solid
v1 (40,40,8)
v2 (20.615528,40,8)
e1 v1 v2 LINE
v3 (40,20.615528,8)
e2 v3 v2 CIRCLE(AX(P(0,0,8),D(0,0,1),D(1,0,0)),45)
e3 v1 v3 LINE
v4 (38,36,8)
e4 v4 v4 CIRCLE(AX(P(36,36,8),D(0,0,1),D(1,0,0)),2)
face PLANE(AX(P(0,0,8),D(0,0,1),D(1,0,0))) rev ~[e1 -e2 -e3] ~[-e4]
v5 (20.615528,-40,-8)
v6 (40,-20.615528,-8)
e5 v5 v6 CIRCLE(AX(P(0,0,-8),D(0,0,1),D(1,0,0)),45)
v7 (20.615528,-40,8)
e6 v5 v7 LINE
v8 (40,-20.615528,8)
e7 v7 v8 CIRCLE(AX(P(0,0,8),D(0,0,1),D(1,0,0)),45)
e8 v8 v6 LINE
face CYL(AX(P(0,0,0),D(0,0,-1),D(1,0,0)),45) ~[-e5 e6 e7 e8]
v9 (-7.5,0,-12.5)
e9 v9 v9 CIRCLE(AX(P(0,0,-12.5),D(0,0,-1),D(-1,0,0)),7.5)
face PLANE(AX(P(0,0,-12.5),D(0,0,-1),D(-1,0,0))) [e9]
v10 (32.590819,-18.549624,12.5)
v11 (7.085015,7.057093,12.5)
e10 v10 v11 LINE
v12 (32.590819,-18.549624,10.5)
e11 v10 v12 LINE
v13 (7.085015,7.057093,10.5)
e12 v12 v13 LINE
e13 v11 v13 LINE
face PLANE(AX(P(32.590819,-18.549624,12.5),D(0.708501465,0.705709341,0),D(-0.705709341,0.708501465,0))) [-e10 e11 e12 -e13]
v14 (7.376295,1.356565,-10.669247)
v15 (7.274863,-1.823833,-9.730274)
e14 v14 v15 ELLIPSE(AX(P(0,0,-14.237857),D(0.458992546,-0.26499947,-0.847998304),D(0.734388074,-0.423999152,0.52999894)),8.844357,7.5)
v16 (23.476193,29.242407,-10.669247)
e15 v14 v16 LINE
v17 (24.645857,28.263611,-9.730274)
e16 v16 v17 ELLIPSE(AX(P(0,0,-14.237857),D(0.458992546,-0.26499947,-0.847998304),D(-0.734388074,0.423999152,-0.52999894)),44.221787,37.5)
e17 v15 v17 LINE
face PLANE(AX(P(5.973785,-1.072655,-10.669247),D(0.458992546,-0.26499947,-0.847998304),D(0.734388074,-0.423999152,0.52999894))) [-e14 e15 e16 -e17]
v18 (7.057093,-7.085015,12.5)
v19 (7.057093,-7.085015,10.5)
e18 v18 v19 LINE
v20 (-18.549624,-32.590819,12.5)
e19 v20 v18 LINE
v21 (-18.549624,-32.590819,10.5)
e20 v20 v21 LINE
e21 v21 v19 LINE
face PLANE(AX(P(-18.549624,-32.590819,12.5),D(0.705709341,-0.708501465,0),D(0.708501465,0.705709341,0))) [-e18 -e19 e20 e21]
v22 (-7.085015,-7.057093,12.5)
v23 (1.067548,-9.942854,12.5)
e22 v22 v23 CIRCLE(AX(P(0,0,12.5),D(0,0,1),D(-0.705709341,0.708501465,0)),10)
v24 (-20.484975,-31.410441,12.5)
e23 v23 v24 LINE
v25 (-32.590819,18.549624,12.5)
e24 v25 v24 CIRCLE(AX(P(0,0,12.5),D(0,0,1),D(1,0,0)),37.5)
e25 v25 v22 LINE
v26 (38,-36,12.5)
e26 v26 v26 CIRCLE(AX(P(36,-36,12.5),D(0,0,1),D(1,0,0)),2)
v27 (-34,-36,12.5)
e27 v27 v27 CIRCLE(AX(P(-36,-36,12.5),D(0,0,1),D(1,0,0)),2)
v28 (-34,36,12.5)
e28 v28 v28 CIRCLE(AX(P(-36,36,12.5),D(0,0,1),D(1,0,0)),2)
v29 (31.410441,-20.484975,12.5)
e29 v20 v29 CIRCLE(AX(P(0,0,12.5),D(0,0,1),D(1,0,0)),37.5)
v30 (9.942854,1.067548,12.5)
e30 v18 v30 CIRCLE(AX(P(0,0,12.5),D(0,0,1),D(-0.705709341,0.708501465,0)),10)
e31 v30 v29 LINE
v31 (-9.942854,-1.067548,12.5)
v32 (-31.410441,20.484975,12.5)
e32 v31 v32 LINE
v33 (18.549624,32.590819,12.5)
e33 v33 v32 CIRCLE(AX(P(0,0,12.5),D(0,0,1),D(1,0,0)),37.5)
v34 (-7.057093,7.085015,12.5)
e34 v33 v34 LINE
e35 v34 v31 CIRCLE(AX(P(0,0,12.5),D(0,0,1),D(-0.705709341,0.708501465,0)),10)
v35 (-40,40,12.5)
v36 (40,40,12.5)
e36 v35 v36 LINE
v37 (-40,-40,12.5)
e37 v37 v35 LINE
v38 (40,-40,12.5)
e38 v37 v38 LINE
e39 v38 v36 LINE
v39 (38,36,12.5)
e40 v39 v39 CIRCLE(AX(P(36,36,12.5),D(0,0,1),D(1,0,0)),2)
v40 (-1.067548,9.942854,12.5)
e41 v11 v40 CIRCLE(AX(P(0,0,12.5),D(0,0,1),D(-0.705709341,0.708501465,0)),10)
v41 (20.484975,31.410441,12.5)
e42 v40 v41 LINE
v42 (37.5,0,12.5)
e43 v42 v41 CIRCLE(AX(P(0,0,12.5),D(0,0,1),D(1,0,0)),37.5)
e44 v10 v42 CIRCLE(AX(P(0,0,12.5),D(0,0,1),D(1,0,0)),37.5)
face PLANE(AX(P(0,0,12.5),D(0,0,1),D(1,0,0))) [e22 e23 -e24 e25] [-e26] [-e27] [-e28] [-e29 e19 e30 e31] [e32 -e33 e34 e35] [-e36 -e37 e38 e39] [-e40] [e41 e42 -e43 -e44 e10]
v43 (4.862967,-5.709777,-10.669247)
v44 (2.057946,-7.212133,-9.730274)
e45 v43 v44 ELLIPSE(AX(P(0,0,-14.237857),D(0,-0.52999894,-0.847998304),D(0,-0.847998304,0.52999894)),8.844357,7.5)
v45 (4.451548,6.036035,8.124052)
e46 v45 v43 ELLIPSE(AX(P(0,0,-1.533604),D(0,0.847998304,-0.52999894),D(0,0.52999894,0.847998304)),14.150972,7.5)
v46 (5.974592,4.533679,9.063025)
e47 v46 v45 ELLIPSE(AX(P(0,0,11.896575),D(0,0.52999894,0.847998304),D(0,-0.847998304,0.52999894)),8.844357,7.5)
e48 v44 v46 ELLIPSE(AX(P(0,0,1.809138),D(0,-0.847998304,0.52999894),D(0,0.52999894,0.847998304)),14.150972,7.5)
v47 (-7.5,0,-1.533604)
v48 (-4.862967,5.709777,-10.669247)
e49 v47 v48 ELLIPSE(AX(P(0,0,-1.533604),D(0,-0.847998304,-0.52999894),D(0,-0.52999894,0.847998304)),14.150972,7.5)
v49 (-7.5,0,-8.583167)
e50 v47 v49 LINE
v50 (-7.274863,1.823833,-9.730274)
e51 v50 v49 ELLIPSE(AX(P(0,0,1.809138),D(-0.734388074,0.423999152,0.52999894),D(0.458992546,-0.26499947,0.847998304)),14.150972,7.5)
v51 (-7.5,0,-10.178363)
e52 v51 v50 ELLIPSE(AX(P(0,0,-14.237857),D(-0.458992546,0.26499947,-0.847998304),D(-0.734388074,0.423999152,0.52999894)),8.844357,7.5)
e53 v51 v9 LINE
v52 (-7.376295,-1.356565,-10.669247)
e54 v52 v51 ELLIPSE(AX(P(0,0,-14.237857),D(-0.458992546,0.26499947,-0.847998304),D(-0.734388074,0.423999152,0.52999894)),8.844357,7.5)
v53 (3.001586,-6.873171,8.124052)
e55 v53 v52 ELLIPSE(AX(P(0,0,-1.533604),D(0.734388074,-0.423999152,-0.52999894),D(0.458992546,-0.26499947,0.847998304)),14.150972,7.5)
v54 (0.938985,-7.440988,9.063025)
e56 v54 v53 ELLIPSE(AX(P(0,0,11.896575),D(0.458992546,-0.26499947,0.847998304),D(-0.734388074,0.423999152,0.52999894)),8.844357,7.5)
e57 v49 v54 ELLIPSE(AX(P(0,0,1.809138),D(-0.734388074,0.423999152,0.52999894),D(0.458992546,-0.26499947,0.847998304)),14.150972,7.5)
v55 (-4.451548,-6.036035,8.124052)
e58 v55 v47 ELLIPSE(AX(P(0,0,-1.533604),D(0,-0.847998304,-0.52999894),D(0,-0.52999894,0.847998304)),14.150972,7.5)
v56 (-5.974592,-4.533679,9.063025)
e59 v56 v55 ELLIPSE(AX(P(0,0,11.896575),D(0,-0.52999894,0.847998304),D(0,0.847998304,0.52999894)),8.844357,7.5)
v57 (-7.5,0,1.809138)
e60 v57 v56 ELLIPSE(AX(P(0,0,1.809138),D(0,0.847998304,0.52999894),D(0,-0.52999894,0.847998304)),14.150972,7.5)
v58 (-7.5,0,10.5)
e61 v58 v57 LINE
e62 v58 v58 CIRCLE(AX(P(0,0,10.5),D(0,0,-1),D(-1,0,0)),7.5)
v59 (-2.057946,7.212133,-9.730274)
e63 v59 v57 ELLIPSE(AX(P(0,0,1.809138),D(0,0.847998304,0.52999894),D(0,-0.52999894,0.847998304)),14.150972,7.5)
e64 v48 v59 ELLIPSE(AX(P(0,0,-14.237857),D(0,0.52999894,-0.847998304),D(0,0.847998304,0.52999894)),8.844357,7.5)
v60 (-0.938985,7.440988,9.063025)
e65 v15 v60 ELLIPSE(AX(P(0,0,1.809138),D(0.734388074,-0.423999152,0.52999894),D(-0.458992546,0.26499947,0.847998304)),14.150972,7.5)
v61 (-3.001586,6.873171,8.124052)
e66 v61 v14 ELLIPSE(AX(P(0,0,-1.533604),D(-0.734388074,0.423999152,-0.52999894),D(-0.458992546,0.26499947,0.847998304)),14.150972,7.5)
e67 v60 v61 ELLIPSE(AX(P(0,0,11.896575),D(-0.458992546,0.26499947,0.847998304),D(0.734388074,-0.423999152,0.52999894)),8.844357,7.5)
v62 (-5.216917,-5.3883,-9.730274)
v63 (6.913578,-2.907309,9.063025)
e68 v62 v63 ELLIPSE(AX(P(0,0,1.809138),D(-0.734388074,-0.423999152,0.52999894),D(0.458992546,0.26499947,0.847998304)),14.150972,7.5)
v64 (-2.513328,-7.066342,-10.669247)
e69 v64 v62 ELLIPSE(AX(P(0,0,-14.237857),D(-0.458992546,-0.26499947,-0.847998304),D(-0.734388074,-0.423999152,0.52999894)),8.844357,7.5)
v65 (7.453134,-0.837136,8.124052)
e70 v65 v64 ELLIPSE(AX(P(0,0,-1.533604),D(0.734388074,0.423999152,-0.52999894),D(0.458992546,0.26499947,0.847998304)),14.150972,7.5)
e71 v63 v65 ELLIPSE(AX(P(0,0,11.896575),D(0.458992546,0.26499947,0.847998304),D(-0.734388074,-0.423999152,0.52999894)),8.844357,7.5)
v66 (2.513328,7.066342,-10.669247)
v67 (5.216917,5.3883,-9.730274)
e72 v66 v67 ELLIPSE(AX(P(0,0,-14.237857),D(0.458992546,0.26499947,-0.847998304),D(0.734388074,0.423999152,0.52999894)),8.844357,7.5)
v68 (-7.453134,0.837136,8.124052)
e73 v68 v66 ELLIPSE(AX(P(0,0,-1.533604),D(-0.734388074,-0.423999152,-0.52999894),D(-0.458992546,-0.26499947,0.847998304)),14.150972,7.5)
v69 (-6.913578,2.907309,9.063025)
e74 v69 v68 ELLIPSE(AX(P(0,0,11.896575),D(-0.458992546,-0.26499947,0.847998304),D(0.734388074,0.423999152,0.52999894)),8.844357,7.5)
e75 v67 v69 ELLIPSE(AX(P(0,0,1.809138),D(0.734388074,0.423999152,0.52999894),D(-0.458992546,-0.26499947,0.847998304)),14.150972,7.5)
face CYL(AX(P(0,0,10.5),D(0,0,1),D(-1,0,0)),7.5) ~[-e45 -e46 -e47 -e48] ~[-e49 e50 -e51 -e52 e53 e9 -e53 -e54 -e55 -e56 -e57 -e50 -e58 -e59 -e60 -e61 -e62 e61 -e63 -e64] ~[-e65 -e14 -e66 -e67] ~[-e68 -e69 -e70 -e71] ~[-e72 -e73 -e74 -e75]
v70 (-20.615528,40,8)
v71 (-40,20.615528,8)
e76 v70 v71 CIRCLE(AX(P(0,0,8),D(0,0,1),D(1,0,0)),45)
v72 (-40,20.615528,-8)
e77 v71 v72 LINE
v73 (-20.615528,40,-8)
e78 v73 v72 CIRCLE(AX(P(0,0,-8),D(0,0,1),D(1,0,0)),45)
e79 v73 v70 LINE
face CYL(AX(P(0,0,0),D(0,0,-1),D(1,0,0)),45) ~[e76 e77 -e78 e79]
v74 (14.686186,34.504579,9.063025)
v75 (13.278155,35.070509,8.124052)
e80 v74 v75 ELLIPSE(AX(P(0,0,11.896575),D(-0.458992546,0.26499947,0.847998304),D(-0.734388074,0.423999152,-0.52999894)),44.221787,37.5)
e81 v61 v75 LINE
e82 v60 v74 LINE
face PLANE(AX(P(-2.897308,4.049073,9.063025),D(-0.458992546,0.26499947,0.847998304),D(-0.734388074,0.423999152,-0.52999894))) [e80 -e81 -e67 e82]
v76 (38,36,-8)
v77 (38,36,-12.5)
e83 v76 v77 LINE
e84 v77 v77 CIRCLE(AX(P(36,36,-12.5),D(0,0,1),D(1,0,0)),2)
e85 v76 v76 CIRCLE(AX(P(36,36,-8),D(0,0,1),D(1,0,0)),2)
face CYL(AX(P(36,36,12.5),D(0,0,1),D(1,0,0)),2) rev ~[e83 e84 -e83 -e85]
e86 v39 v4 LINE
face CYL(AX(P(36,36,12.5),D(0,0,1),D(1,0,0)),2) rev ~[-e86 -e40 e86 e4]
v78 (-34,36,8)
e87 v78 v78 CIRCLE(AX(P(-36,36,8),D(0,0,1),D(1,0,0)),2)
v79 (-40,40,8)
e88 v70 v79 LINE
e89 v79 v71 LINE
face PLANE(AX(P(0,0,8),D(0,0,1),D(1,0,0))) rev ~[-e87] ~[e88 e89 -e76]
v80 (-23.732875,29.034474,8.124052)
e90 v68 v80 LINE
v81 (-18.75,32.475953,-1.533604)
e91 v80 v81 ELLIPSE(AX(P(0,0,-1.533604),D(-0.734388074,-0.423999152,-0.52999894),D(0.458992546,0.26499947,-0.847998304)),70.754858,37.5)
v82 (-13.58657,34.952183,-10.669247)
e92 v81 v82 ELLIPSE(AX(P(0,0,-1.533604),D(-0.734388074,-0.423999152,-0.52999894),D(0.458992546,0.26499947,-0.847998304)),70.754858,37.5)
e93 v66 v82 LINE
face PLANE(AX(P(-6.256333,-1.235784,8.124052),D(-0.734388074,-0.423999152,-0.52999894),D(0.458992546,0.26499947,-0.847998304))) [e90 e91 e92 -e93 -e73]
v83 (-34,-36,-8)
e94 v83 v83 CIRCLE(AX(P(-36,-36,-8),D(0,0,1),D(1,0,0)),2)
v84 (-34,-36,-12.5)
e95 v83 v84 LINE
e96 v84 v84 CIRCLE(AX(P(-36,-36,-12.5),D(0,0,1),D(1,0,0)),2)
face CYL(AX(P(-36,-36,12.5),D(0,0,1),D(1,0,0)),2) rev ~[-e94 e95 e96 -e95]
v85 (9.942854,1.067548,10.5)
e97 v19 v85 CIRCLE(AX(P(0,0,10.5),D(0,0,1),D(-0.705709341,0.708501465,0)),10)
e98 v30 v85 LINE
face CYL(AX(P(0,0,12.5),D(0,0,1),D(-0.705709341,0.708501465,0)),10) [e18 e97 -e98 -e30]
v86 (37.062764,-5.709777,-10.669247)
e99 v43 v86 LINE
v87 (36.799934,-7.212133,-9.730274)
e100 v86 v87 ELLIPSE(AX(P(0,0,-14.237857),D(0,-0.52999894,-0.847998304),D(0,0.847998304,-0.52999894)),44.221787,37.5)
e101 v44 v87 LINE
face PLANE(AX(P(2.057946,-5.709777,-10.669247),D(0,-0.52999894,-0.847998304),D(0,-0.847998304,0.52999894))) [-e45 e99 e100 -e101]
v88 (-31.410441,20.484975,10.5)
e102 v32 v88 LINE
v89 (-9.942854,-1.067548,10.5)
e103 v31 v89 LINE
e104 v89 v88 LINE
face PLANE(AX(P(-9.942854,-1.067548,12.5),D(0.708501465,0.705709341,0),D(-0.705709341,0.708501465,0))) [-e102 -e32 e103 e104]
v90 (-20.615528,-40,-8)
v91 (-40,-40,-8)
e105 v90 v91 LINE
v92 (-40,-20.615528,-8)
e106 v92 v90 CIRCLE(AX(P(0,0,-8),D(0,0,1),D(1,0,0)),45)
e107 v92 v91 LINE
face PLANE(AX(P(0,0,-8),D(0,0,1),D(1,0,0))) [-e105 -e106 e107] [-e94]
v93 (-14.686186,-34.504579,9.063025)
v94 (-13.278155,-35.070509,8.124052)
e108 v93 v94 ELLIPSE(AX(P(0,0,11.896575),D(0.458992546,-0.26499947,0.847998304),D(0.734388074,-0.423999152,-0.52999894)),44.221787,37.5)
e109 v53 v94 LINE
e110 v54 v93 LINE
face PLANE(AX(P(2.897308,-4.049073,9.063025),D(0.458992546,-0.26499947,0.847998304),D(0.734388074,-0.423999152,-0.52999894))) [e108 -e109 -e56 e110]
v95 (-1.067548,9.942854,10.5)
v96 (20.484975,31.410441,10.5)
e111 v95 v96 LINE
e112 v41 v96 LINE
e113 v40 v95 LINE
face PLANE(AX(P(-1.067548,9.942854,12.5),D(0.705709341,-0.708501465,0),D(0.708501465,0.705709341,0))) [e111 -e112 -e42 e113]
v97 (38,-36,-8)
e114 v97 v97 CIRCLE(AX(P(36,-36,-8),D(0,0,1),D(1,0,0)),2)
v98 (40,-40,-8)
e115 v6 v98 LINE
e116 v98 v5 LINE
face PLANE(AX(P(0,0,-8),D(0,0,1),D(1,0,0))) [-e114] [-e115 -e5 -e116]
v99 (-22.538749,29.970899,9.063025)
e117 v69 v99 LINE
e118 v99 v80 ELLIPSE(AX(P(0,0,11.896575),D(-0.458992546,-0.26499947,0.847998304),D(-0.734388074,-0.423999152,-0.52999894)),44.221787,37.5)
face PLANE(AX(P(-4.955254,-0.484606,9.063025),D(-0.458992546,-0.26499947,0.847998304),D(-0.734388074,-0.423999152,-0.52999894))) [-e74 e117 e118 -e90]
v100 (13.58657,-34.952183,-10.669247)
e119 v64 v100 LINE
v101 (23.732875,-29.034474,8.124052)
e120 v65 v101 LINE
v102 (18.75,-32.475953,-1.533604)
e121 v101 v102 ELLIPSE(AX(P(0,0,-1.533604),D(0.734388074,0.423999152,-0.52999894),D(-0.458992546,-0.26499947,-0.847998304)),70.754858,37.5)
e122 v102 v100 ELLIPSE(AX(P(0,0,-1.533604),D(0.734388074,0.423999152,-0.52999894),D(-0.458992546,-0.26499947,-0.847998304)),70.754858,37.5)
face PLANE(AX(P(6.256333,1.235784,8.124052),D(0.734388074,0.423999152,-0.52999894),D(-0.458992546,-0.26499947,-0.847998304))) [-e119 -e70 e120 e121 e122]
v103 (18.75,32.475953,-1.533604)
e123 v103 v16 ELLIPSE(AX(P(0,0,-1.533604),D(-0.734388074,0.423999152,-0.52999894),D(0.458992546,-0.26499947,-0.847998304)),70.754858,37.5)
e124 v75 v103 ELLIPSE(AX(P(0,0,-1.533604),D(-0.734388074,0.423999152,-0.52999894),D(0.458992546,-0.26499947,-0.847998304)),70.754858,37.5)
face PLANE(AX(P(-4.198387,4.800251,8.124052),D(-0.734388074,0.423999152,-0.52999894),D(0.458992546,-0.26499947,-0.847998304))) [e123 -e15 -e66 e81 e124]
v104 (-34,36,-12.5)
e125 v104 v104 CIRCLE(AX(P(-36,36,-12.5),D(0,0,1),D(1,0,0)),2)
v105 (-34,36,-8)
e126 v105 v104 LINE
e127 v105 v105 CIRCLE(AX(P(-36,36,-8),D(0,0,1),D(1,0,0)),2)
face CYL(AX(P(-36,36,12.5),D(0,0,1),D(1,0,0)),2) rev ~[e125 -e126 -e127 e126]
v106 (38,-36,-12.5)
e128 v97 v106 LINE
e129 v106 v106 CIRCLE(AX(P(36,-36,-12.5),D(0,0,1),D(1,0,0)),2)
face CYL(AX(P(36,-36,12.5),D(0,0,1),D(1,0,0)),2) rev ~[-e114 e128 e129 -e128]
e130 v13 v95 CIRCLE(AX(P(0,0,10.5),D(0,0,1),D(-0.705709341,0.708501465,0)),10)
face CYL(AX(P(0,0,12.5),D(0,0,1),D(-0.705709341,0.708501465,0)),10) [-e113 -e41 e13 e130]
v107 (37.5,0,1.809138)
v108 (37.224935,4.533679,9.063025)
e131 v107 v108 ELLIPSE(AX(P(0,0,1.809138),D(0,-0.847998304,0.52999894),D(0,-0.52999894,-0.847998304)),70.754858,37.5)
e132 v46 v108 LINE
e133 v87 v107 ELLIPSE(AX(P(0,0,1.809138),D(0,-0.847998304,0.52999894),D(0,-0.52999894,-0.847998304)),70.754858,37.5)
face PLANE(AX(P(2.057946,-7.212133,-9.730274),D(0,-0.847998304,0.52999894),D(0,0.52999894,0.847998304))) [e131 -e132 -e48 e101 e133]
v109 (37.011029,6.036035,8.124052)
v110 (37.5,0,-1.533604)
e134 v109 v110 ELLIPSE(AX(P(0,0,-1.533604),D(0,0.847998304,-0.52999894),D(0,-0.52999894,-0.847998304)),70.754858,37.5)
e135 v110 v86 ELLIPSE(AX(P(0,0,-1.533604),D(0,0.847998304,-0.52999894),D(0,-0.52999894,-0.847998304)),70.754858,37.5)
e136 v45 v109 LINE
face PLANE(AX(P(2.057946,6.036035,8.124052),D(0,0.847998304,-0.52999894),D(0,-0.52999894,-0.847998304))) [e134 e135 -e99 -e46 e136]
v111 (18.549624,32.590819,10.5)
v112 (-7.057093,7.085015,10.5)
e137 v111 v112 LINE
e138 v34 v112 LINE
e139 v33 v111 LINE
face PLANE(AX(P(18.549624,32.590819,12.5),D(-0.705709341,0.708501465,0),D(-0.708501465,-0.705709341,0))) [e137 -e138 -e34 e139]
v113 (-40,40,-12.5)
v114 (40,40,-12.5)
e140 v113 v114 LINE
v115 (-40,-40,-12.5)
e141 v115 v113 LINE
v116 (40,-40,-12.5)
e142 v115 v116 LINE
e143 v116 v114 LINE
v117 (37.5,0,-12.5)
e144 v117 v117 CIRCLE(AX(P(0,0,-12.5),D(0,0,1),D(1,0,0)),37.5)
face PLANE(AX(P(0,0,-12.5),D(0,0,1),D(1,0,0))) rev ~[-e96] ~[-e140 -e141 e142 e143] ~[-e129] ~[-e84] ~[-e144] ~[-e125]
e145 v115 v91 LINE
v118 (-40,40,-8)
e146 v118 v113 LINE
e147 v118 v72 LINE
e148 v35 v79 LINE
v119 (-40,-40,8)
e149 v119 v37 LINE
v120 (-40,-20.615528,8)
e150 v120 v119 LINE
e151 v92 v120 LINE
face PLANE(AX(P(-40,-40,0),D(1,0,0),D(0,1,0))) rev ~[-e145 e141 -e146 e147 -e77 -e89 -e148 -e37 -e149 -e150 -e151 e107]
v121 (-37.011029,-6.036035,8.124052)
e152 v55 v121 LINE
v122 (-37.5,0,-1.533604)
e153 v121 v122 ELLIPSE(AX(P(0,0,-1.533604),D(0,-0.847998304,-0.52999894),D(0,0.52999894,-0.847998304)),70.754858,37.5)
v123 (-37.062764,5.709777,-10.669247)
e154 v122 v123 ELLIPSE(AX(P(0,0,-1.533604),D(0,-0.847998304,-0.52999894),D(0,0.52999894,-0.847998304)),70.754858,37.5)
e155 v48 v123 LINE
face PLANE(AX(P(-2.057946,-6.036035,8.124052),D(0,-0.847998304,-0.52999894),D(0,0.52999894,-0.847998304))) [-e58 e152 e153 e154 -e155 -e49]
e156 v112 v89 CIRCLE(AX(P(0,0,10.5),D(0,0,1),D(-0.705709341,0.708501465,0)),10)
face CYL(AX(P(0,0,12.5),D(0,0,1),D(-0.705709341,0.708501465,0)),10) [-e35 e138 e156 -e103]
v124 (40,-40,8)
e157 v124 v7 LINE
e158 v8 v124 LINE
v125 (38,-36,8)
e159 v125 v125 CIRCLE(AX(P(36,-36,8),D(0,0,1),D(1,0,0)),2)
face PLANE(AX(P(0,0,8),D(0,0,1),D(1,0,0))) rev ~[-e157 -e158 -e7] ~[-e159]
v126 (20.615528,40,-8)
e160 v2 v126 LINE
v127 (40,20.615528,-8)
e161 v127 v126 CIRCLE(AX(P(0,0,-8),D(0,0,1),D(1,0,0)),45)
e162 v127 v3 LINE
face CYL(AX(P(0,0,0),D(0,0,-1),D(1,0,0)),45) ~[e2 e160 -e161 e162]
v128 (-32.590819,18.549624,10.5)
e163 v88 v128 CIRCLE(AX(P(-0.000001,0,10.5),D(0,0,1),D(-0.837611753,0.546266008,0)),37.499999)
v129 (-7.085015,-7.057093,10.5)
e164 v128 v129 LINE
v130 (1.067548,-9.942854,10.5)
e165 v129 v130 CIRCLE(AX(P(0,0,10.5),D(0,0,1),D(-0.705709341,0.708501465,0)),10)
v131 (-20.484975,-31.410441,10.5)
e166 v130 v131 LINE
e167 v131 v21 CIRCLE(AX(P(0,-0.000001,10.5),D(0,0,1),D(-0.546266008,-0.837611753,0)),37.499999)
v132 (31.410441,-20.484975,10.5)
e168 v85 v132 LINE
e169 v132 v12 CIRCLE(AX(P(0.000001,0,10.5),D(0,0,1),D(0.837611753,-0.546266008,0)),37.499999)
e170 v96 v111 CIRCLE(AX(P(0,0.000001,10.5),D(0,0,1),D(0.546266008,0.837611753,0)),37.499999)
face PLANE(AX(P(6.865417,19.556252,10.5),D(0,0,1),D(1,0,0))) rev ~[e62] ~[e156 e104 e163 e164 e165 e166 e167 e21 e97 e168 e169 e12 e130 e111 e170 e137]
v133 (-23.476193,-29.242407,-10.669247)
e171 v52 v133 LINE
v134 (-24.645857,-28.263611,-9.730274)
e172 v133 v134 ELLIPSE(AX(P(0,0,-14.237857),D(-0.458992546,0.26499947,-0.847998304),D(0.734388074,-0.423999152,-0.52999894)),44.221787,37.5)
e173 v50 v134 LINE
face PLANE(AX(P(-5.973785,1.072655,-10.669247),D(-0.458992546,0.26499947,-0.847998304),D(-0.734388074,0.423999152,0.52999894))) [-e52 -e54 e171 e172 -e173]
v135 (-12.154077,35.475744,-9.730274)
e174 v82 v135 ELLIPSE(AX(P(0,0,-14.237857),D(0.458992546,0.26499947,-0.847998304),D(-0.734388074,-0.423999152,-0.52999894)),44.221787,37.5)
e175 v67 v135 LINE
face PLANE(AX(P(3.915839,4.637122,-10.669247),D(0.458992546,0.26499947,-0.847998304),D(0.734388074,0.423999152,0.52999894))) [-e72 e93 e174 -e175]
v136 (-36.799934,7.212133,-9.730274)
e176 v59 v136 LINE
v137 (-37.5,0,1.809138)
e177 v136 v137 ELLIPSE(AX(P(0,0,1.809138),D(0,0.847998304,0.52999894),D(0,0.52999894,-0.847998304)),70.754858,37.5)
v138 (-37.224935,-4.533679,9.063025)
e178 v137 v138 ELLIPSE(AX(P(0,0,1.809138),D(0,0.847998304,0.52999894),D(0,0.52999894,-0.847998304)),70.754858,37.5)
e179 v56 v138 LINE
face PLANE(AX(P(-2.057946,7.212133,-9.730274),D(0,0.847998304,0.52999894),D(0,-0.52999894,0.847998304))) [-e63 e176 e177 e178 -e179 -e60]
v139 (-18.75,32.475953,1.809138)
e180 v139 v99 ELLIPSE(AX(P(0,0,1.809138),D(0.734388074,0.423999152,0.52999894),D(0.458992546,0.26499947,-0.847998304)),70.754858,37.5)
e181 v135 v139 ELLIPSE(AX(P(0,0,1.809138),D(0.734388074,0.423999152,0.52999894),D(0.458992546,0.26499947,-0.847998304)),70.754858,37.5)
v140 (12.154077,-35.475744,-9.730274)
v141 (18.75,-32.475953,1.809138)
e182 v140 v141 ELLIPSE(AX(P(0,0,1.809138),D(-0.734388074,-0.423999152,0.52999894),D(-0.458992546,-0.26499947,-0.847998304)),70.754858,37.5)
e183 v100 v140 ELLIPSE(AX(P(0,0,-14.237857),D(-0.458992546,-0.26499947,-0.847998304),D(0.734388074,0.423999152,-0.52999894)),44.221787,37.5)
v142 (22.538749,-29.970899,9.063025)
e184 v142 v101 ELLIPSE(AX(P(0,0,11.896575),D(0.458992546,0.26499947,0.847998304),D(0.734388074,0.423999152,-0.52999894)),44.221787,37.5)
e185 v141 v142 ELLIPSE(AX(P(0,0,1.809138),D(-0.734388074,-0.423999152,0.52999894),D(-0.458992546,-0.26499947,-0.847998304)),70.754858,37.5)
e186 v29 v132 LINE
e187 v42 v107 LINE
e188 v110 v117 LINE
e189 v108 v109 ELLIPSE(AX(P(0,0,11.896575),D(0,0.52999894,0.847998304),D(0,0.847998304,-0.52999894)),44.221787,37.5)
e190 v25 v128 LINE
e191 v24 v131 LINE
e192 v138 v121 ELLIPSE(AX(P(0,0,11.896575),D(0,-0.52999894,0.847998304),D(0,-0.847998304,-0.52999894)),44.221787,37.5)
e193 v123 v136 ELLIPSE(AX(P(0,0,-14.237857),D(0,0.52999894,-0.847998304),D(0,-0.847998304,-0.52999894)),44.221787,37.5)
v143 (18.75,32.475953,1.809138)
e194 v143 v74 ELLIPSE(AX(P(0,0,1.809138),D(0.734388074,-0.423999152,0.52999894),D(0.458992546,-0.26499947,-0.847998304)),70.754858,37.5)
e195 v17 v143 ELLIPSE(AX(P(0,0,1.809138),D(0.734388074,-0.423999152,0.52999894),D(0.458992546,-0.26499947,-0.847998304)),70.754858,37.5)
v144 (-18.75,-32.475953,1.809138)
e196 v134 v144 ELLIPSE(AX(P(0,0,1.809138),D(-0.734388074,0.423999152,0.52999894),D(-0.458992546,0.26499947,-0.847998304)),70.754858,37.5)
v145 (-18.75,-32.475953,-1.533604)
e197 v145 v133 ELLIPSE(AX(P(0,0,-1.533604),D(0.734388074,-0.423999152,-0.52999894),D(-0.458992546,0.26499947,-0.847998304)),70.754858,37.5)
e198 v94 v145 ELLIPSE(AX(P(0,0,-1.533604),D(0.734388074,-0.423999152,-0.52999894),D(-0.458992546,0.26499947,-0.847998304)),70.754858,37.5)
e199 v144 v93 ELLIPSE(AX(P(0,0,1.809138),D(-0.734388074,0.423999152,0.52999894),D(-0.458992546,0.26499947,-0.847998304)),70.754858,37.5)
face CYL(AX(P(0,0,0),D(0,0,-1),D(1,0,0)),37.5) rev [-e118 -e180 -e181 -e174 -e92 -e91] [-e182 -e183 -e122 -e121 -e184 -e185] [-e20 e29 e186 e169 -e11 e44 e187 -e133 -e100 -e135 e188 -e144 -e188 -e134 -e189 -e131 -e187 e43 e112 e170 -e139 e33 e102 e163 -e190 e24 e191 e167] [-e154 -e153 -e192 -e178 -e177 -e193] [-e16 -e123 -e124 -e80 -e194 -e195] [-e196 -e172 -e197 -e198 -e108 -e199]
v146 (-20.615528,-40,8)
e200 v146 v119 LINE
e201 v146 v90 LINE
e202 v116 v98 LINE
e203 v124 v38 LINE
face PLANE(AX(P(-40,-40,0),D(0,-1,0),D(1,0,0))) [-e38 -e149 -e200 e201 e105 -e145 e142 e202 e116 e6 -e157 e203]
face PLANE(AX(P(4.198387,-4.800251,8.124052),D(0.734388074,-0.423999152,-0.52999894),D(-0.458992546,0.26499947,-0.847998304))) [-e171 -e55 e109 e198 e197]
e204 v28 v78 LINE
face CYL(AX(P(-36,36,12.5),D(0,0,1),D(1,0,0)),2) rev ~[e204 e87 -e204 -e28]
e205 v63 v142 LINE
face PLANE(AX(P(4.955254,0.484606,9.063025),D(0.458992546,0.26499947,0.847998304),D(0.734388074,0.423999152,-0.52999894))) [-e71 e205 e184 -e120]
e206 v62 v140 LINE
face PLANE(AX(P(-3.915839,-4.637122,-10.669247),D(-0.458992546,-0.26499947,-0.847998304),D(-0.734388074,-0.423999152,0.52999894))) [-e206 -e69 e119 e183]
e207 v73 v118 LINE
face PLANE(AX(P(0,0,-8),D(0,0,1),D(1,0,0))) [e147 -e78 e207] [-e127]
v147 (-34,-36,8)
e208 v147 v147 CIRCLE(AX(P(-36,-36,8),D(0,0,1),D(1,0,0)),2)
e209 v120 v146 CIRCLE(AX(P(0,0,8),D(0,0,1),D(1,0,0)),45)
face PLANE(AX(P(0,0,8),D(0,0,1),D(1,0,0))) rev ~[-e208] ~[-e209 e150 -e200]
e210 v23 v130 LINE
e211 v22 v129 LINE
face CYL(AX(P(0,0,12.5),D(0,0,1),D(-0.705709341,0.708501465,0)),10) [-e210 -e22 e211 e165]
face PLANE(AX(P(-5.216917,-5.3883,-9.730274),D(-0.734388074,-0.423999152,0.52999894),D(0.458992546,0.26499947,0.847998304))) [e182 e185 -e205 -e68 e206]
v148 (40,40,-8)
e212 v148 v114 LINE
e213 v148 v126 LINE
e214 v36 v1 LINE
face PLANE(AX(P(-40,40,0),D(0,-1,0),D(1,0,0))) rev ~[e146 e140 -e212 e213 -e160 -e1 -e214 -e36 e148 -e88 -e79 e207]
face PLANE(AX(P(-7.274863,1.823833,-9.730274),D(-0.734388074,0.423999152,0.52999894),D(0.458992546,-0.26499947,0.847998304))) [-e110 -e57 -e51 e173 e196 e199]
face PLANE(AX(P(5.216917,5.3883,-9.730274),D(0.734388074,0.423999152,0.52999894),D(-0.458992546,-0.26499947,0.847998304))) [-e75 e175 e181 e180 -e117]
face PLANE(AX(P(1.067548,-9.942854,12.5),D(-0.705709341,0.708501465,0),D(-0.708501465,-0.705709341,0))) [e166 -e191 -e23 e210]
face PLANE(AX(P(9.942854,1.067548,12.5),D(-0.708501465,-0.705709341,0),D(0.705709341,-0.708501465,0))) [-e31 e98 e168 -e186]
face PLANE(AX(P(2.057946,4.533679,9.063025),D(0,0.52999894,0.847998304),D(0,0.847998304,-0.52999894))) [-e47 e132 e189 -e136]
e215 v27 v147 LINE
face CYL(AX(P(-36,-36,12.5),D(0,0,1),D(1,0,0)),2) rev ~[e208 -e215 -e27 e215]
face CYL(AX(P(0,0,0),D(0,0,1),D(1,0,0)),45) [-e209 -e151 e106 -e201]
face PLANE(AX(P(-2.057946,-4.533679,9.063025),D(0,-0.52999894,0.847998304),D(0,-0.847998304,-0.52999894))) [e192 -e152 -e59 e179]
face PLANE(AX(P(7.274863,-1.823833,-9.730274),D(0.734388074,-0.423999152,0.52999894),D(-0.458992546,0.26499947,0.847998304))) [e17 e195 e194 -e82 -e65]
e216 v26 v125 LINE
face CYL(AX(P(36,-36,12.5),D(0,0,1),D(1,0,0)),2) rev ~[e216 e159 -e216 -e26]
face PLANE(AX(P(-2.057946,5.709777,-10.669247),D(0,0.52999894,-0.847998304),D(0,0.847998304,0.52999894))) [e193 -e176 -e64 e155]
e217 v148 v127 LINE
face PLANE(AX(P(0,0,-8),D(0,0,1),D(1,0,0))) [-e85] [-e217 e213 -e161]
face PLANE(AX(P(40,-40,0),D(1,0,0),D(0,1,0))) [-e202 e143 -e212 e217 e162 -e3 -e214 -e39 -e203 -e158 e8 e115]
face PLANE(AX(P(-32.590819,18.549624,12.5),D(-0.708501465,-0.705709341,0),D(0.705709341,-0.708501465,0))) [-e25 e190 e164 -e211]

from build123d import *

# Parameters (mm, degrees)
SKETCH1_W                = 80
SKETCH1_H                = 80
SKETCH1_R                = 37.5
BOSS_EXTRUDE1_DEPTH      = 12.5
BOSS_EXTRUDE1_DEPTH_BACK = 12.5
SKETCH2_R                = 60
SKETCH2_R_2              = 45
CUT_EXTRUDE1_DEPTH       = 8
CUT_EXTRUDE1_DEPTH_BACK  = 8
SKETCH3_R                = 2
CUT_EXTRUDE2_DEPTH       = 26
SKETCH4_R                = 10
BOSS_EXTRUDE2_DEPTH      = 2
SKETCH5_R                = 7.5
BOSS_EXTRUDE3_DEPTH      = 23
BOSS_EXTRUDE9_START      = -17.942054
BOSS_EXTRUDE9_DEPTH      = 35.442054
CIRPATTERN1_COUNT        = 6


with BuildPart() as part:
    # Sketch1 → Boss-Extrude1 (new body, two sides)
    with BuildSketch(Plane.XY) as boss_extrude1_sk:
        Rectangle(SKETCH1_W, SKETCH1_H)
        Circle(SKETCH1_R, mode=Mode.SUBTRACT)
    extrude(amount=BOSS_EXTRUDE1_DEPTH)
    extrude(boss_extrude1_sk.sketch, amount=-BOSS_EXTRUDE1_DEPTH_BACK)

    # Sketch2 → Cut-Extrude1 (cut, two sides)
    with BuildSketch(Plane.XY) as cut_extrude1_sk:
        Circle(SKETCH2_R)
        Circle(SKETCH2_R_2, mode=Mode.SUBTRACT)
    extrude(amount=CUT_EXTRUDE1_DEPTH, mode=Mode.SUBTRACT)
    extrude(cut_extrude1_sk.sketch, amount=-CUT_EXTRUDE1_DEPTH_BACK, mode=Mode.SUBTRACT)

    # Sketch3 → Cut-Extrude2 (cut, through all)
    with BuildSketch(Plane.XY.offset(12.5)):
        with Locations((-36, 36)):
            Circle(SKETCH3_R)
        with Locations((36, 36)):
            Circle(SKETCH3_R)
        with Locations((36, -36)):
            Circle(SKETCH3_R)
        with Locations((-36, -36)):
            Circle(SKETCH3_R)
    extrude(amount=-CUT_EXTRUDE2_DEPTH, mode=Mode.SUBTRACT)

    # Sketch4 → Boss-Extrude2 (add)
    with BuildSketch(Plane.XY.offset(12.5)):
        with BuildLine():
            Line((18.549623759, 32.590818621), (-7.057093407, 7.085014654))
            ThreePointArc((-7.057093407, 7.085014654), (-4.306304625, 9.025283401), (-1.067547722, 9.942853809))
            Line((-1.067547722, 9.942853809), (20.484975285, 31.410440741))
            ThreePointArc((20.484975285, 31.410440741), (19.526220925, 32.015257244), (18.549623759, 32.590818621))
        make_face()
        Circle(SKETCH4_R)
        with BuildLine():
            ThreePointArc((-7.085014654, -7.057093407), (-9.025283401, -4.306304625), (-9.942853809, -1.067547722))
            Line((-9.942853809, -1.067547722), (-31.410440741, 20.484975285))
            ThreePointArc((-31.410440741, 20.484975285), (-32.015257244, 19.526220925), (-32.590818621, 18.549623759))
            Line((-32.590818621, 18.549623759), (-7.085014654, -7.057093407))
        make_face()
        with BuildLine():
            Line((32.590818621, -18.549623759), (7.085014654, 7.057093407))
            ThreePointArc((7.085014654, 7.057093407), (9.025283401, 4.306304625), (9.942853809, 1.067547722))
            Line((9.942853809, 1.067547722), (31.410440741, -20.484975285))
            ThreePointArc((31.410440741, -20.484975285), (32.015257244, -19.526220925), (32.590818621, -18.549623759))
        make_face()
        with BuildLine():
            ThreePointArc((7.057093407, -7.085014654), (4.306304625, -9.025283401), (1.067547722, -9.942853809))
            Line((1.067547722, -9.942853809), (-20.484975285, -31.410440741))
            ThreePointArc((-20.484975285, -31.410440741), (-19.526220925, -32.015257244), (-18.549623759, -32.590818621))
            Line((-18.549623759, -32.590818621), (7.057093407, -7.085014654))
        make_face()
    extrude(amount=-BOSS_EXTRUDE2_DEPTH)

    # Sketch5 → Boss-Extrude3 (add)
    with BuildSketch(Plane(origin=(0, 0, 10.5), x_dir=(-1, 0, 0), z_dir=(0, 0, -1))):
        Circle(SKETCH5_R)
    extrude(amount=BOSS_EXTRUDE3_DEPTH)

    # Sketch7 → Boss-Extrude9 (add)
    with BuildSketch(Plane(origin=(20, 0, 0), x_dir=(0, 0, -1), z_dir=(1, 0, 0)).offset(BOSS_EXTRUDE9_START)):
        Polygon((9.730274214, -7.212132837), (-9.063025071, 4.533679216), (-8.124052437, 6.03603543), (10.669246848, -5.709776623), align=None)
    boss_extrude9 = extrude(amount=BOSS_EXTRUDE9_DEPTH)

    # CirPattern1: Boss-Extrude9 ×6 about axis
    cirpattern1_axis = Axis((0, 0, 0), (0, 0, 1))
    for i in range(1, CIRPATTERN1_COUNT):
        add(boss_extrude9.rotate(cirpattern1_axis, i * 360 / CIRPATTERN1_COUNT))


solid = part.part
